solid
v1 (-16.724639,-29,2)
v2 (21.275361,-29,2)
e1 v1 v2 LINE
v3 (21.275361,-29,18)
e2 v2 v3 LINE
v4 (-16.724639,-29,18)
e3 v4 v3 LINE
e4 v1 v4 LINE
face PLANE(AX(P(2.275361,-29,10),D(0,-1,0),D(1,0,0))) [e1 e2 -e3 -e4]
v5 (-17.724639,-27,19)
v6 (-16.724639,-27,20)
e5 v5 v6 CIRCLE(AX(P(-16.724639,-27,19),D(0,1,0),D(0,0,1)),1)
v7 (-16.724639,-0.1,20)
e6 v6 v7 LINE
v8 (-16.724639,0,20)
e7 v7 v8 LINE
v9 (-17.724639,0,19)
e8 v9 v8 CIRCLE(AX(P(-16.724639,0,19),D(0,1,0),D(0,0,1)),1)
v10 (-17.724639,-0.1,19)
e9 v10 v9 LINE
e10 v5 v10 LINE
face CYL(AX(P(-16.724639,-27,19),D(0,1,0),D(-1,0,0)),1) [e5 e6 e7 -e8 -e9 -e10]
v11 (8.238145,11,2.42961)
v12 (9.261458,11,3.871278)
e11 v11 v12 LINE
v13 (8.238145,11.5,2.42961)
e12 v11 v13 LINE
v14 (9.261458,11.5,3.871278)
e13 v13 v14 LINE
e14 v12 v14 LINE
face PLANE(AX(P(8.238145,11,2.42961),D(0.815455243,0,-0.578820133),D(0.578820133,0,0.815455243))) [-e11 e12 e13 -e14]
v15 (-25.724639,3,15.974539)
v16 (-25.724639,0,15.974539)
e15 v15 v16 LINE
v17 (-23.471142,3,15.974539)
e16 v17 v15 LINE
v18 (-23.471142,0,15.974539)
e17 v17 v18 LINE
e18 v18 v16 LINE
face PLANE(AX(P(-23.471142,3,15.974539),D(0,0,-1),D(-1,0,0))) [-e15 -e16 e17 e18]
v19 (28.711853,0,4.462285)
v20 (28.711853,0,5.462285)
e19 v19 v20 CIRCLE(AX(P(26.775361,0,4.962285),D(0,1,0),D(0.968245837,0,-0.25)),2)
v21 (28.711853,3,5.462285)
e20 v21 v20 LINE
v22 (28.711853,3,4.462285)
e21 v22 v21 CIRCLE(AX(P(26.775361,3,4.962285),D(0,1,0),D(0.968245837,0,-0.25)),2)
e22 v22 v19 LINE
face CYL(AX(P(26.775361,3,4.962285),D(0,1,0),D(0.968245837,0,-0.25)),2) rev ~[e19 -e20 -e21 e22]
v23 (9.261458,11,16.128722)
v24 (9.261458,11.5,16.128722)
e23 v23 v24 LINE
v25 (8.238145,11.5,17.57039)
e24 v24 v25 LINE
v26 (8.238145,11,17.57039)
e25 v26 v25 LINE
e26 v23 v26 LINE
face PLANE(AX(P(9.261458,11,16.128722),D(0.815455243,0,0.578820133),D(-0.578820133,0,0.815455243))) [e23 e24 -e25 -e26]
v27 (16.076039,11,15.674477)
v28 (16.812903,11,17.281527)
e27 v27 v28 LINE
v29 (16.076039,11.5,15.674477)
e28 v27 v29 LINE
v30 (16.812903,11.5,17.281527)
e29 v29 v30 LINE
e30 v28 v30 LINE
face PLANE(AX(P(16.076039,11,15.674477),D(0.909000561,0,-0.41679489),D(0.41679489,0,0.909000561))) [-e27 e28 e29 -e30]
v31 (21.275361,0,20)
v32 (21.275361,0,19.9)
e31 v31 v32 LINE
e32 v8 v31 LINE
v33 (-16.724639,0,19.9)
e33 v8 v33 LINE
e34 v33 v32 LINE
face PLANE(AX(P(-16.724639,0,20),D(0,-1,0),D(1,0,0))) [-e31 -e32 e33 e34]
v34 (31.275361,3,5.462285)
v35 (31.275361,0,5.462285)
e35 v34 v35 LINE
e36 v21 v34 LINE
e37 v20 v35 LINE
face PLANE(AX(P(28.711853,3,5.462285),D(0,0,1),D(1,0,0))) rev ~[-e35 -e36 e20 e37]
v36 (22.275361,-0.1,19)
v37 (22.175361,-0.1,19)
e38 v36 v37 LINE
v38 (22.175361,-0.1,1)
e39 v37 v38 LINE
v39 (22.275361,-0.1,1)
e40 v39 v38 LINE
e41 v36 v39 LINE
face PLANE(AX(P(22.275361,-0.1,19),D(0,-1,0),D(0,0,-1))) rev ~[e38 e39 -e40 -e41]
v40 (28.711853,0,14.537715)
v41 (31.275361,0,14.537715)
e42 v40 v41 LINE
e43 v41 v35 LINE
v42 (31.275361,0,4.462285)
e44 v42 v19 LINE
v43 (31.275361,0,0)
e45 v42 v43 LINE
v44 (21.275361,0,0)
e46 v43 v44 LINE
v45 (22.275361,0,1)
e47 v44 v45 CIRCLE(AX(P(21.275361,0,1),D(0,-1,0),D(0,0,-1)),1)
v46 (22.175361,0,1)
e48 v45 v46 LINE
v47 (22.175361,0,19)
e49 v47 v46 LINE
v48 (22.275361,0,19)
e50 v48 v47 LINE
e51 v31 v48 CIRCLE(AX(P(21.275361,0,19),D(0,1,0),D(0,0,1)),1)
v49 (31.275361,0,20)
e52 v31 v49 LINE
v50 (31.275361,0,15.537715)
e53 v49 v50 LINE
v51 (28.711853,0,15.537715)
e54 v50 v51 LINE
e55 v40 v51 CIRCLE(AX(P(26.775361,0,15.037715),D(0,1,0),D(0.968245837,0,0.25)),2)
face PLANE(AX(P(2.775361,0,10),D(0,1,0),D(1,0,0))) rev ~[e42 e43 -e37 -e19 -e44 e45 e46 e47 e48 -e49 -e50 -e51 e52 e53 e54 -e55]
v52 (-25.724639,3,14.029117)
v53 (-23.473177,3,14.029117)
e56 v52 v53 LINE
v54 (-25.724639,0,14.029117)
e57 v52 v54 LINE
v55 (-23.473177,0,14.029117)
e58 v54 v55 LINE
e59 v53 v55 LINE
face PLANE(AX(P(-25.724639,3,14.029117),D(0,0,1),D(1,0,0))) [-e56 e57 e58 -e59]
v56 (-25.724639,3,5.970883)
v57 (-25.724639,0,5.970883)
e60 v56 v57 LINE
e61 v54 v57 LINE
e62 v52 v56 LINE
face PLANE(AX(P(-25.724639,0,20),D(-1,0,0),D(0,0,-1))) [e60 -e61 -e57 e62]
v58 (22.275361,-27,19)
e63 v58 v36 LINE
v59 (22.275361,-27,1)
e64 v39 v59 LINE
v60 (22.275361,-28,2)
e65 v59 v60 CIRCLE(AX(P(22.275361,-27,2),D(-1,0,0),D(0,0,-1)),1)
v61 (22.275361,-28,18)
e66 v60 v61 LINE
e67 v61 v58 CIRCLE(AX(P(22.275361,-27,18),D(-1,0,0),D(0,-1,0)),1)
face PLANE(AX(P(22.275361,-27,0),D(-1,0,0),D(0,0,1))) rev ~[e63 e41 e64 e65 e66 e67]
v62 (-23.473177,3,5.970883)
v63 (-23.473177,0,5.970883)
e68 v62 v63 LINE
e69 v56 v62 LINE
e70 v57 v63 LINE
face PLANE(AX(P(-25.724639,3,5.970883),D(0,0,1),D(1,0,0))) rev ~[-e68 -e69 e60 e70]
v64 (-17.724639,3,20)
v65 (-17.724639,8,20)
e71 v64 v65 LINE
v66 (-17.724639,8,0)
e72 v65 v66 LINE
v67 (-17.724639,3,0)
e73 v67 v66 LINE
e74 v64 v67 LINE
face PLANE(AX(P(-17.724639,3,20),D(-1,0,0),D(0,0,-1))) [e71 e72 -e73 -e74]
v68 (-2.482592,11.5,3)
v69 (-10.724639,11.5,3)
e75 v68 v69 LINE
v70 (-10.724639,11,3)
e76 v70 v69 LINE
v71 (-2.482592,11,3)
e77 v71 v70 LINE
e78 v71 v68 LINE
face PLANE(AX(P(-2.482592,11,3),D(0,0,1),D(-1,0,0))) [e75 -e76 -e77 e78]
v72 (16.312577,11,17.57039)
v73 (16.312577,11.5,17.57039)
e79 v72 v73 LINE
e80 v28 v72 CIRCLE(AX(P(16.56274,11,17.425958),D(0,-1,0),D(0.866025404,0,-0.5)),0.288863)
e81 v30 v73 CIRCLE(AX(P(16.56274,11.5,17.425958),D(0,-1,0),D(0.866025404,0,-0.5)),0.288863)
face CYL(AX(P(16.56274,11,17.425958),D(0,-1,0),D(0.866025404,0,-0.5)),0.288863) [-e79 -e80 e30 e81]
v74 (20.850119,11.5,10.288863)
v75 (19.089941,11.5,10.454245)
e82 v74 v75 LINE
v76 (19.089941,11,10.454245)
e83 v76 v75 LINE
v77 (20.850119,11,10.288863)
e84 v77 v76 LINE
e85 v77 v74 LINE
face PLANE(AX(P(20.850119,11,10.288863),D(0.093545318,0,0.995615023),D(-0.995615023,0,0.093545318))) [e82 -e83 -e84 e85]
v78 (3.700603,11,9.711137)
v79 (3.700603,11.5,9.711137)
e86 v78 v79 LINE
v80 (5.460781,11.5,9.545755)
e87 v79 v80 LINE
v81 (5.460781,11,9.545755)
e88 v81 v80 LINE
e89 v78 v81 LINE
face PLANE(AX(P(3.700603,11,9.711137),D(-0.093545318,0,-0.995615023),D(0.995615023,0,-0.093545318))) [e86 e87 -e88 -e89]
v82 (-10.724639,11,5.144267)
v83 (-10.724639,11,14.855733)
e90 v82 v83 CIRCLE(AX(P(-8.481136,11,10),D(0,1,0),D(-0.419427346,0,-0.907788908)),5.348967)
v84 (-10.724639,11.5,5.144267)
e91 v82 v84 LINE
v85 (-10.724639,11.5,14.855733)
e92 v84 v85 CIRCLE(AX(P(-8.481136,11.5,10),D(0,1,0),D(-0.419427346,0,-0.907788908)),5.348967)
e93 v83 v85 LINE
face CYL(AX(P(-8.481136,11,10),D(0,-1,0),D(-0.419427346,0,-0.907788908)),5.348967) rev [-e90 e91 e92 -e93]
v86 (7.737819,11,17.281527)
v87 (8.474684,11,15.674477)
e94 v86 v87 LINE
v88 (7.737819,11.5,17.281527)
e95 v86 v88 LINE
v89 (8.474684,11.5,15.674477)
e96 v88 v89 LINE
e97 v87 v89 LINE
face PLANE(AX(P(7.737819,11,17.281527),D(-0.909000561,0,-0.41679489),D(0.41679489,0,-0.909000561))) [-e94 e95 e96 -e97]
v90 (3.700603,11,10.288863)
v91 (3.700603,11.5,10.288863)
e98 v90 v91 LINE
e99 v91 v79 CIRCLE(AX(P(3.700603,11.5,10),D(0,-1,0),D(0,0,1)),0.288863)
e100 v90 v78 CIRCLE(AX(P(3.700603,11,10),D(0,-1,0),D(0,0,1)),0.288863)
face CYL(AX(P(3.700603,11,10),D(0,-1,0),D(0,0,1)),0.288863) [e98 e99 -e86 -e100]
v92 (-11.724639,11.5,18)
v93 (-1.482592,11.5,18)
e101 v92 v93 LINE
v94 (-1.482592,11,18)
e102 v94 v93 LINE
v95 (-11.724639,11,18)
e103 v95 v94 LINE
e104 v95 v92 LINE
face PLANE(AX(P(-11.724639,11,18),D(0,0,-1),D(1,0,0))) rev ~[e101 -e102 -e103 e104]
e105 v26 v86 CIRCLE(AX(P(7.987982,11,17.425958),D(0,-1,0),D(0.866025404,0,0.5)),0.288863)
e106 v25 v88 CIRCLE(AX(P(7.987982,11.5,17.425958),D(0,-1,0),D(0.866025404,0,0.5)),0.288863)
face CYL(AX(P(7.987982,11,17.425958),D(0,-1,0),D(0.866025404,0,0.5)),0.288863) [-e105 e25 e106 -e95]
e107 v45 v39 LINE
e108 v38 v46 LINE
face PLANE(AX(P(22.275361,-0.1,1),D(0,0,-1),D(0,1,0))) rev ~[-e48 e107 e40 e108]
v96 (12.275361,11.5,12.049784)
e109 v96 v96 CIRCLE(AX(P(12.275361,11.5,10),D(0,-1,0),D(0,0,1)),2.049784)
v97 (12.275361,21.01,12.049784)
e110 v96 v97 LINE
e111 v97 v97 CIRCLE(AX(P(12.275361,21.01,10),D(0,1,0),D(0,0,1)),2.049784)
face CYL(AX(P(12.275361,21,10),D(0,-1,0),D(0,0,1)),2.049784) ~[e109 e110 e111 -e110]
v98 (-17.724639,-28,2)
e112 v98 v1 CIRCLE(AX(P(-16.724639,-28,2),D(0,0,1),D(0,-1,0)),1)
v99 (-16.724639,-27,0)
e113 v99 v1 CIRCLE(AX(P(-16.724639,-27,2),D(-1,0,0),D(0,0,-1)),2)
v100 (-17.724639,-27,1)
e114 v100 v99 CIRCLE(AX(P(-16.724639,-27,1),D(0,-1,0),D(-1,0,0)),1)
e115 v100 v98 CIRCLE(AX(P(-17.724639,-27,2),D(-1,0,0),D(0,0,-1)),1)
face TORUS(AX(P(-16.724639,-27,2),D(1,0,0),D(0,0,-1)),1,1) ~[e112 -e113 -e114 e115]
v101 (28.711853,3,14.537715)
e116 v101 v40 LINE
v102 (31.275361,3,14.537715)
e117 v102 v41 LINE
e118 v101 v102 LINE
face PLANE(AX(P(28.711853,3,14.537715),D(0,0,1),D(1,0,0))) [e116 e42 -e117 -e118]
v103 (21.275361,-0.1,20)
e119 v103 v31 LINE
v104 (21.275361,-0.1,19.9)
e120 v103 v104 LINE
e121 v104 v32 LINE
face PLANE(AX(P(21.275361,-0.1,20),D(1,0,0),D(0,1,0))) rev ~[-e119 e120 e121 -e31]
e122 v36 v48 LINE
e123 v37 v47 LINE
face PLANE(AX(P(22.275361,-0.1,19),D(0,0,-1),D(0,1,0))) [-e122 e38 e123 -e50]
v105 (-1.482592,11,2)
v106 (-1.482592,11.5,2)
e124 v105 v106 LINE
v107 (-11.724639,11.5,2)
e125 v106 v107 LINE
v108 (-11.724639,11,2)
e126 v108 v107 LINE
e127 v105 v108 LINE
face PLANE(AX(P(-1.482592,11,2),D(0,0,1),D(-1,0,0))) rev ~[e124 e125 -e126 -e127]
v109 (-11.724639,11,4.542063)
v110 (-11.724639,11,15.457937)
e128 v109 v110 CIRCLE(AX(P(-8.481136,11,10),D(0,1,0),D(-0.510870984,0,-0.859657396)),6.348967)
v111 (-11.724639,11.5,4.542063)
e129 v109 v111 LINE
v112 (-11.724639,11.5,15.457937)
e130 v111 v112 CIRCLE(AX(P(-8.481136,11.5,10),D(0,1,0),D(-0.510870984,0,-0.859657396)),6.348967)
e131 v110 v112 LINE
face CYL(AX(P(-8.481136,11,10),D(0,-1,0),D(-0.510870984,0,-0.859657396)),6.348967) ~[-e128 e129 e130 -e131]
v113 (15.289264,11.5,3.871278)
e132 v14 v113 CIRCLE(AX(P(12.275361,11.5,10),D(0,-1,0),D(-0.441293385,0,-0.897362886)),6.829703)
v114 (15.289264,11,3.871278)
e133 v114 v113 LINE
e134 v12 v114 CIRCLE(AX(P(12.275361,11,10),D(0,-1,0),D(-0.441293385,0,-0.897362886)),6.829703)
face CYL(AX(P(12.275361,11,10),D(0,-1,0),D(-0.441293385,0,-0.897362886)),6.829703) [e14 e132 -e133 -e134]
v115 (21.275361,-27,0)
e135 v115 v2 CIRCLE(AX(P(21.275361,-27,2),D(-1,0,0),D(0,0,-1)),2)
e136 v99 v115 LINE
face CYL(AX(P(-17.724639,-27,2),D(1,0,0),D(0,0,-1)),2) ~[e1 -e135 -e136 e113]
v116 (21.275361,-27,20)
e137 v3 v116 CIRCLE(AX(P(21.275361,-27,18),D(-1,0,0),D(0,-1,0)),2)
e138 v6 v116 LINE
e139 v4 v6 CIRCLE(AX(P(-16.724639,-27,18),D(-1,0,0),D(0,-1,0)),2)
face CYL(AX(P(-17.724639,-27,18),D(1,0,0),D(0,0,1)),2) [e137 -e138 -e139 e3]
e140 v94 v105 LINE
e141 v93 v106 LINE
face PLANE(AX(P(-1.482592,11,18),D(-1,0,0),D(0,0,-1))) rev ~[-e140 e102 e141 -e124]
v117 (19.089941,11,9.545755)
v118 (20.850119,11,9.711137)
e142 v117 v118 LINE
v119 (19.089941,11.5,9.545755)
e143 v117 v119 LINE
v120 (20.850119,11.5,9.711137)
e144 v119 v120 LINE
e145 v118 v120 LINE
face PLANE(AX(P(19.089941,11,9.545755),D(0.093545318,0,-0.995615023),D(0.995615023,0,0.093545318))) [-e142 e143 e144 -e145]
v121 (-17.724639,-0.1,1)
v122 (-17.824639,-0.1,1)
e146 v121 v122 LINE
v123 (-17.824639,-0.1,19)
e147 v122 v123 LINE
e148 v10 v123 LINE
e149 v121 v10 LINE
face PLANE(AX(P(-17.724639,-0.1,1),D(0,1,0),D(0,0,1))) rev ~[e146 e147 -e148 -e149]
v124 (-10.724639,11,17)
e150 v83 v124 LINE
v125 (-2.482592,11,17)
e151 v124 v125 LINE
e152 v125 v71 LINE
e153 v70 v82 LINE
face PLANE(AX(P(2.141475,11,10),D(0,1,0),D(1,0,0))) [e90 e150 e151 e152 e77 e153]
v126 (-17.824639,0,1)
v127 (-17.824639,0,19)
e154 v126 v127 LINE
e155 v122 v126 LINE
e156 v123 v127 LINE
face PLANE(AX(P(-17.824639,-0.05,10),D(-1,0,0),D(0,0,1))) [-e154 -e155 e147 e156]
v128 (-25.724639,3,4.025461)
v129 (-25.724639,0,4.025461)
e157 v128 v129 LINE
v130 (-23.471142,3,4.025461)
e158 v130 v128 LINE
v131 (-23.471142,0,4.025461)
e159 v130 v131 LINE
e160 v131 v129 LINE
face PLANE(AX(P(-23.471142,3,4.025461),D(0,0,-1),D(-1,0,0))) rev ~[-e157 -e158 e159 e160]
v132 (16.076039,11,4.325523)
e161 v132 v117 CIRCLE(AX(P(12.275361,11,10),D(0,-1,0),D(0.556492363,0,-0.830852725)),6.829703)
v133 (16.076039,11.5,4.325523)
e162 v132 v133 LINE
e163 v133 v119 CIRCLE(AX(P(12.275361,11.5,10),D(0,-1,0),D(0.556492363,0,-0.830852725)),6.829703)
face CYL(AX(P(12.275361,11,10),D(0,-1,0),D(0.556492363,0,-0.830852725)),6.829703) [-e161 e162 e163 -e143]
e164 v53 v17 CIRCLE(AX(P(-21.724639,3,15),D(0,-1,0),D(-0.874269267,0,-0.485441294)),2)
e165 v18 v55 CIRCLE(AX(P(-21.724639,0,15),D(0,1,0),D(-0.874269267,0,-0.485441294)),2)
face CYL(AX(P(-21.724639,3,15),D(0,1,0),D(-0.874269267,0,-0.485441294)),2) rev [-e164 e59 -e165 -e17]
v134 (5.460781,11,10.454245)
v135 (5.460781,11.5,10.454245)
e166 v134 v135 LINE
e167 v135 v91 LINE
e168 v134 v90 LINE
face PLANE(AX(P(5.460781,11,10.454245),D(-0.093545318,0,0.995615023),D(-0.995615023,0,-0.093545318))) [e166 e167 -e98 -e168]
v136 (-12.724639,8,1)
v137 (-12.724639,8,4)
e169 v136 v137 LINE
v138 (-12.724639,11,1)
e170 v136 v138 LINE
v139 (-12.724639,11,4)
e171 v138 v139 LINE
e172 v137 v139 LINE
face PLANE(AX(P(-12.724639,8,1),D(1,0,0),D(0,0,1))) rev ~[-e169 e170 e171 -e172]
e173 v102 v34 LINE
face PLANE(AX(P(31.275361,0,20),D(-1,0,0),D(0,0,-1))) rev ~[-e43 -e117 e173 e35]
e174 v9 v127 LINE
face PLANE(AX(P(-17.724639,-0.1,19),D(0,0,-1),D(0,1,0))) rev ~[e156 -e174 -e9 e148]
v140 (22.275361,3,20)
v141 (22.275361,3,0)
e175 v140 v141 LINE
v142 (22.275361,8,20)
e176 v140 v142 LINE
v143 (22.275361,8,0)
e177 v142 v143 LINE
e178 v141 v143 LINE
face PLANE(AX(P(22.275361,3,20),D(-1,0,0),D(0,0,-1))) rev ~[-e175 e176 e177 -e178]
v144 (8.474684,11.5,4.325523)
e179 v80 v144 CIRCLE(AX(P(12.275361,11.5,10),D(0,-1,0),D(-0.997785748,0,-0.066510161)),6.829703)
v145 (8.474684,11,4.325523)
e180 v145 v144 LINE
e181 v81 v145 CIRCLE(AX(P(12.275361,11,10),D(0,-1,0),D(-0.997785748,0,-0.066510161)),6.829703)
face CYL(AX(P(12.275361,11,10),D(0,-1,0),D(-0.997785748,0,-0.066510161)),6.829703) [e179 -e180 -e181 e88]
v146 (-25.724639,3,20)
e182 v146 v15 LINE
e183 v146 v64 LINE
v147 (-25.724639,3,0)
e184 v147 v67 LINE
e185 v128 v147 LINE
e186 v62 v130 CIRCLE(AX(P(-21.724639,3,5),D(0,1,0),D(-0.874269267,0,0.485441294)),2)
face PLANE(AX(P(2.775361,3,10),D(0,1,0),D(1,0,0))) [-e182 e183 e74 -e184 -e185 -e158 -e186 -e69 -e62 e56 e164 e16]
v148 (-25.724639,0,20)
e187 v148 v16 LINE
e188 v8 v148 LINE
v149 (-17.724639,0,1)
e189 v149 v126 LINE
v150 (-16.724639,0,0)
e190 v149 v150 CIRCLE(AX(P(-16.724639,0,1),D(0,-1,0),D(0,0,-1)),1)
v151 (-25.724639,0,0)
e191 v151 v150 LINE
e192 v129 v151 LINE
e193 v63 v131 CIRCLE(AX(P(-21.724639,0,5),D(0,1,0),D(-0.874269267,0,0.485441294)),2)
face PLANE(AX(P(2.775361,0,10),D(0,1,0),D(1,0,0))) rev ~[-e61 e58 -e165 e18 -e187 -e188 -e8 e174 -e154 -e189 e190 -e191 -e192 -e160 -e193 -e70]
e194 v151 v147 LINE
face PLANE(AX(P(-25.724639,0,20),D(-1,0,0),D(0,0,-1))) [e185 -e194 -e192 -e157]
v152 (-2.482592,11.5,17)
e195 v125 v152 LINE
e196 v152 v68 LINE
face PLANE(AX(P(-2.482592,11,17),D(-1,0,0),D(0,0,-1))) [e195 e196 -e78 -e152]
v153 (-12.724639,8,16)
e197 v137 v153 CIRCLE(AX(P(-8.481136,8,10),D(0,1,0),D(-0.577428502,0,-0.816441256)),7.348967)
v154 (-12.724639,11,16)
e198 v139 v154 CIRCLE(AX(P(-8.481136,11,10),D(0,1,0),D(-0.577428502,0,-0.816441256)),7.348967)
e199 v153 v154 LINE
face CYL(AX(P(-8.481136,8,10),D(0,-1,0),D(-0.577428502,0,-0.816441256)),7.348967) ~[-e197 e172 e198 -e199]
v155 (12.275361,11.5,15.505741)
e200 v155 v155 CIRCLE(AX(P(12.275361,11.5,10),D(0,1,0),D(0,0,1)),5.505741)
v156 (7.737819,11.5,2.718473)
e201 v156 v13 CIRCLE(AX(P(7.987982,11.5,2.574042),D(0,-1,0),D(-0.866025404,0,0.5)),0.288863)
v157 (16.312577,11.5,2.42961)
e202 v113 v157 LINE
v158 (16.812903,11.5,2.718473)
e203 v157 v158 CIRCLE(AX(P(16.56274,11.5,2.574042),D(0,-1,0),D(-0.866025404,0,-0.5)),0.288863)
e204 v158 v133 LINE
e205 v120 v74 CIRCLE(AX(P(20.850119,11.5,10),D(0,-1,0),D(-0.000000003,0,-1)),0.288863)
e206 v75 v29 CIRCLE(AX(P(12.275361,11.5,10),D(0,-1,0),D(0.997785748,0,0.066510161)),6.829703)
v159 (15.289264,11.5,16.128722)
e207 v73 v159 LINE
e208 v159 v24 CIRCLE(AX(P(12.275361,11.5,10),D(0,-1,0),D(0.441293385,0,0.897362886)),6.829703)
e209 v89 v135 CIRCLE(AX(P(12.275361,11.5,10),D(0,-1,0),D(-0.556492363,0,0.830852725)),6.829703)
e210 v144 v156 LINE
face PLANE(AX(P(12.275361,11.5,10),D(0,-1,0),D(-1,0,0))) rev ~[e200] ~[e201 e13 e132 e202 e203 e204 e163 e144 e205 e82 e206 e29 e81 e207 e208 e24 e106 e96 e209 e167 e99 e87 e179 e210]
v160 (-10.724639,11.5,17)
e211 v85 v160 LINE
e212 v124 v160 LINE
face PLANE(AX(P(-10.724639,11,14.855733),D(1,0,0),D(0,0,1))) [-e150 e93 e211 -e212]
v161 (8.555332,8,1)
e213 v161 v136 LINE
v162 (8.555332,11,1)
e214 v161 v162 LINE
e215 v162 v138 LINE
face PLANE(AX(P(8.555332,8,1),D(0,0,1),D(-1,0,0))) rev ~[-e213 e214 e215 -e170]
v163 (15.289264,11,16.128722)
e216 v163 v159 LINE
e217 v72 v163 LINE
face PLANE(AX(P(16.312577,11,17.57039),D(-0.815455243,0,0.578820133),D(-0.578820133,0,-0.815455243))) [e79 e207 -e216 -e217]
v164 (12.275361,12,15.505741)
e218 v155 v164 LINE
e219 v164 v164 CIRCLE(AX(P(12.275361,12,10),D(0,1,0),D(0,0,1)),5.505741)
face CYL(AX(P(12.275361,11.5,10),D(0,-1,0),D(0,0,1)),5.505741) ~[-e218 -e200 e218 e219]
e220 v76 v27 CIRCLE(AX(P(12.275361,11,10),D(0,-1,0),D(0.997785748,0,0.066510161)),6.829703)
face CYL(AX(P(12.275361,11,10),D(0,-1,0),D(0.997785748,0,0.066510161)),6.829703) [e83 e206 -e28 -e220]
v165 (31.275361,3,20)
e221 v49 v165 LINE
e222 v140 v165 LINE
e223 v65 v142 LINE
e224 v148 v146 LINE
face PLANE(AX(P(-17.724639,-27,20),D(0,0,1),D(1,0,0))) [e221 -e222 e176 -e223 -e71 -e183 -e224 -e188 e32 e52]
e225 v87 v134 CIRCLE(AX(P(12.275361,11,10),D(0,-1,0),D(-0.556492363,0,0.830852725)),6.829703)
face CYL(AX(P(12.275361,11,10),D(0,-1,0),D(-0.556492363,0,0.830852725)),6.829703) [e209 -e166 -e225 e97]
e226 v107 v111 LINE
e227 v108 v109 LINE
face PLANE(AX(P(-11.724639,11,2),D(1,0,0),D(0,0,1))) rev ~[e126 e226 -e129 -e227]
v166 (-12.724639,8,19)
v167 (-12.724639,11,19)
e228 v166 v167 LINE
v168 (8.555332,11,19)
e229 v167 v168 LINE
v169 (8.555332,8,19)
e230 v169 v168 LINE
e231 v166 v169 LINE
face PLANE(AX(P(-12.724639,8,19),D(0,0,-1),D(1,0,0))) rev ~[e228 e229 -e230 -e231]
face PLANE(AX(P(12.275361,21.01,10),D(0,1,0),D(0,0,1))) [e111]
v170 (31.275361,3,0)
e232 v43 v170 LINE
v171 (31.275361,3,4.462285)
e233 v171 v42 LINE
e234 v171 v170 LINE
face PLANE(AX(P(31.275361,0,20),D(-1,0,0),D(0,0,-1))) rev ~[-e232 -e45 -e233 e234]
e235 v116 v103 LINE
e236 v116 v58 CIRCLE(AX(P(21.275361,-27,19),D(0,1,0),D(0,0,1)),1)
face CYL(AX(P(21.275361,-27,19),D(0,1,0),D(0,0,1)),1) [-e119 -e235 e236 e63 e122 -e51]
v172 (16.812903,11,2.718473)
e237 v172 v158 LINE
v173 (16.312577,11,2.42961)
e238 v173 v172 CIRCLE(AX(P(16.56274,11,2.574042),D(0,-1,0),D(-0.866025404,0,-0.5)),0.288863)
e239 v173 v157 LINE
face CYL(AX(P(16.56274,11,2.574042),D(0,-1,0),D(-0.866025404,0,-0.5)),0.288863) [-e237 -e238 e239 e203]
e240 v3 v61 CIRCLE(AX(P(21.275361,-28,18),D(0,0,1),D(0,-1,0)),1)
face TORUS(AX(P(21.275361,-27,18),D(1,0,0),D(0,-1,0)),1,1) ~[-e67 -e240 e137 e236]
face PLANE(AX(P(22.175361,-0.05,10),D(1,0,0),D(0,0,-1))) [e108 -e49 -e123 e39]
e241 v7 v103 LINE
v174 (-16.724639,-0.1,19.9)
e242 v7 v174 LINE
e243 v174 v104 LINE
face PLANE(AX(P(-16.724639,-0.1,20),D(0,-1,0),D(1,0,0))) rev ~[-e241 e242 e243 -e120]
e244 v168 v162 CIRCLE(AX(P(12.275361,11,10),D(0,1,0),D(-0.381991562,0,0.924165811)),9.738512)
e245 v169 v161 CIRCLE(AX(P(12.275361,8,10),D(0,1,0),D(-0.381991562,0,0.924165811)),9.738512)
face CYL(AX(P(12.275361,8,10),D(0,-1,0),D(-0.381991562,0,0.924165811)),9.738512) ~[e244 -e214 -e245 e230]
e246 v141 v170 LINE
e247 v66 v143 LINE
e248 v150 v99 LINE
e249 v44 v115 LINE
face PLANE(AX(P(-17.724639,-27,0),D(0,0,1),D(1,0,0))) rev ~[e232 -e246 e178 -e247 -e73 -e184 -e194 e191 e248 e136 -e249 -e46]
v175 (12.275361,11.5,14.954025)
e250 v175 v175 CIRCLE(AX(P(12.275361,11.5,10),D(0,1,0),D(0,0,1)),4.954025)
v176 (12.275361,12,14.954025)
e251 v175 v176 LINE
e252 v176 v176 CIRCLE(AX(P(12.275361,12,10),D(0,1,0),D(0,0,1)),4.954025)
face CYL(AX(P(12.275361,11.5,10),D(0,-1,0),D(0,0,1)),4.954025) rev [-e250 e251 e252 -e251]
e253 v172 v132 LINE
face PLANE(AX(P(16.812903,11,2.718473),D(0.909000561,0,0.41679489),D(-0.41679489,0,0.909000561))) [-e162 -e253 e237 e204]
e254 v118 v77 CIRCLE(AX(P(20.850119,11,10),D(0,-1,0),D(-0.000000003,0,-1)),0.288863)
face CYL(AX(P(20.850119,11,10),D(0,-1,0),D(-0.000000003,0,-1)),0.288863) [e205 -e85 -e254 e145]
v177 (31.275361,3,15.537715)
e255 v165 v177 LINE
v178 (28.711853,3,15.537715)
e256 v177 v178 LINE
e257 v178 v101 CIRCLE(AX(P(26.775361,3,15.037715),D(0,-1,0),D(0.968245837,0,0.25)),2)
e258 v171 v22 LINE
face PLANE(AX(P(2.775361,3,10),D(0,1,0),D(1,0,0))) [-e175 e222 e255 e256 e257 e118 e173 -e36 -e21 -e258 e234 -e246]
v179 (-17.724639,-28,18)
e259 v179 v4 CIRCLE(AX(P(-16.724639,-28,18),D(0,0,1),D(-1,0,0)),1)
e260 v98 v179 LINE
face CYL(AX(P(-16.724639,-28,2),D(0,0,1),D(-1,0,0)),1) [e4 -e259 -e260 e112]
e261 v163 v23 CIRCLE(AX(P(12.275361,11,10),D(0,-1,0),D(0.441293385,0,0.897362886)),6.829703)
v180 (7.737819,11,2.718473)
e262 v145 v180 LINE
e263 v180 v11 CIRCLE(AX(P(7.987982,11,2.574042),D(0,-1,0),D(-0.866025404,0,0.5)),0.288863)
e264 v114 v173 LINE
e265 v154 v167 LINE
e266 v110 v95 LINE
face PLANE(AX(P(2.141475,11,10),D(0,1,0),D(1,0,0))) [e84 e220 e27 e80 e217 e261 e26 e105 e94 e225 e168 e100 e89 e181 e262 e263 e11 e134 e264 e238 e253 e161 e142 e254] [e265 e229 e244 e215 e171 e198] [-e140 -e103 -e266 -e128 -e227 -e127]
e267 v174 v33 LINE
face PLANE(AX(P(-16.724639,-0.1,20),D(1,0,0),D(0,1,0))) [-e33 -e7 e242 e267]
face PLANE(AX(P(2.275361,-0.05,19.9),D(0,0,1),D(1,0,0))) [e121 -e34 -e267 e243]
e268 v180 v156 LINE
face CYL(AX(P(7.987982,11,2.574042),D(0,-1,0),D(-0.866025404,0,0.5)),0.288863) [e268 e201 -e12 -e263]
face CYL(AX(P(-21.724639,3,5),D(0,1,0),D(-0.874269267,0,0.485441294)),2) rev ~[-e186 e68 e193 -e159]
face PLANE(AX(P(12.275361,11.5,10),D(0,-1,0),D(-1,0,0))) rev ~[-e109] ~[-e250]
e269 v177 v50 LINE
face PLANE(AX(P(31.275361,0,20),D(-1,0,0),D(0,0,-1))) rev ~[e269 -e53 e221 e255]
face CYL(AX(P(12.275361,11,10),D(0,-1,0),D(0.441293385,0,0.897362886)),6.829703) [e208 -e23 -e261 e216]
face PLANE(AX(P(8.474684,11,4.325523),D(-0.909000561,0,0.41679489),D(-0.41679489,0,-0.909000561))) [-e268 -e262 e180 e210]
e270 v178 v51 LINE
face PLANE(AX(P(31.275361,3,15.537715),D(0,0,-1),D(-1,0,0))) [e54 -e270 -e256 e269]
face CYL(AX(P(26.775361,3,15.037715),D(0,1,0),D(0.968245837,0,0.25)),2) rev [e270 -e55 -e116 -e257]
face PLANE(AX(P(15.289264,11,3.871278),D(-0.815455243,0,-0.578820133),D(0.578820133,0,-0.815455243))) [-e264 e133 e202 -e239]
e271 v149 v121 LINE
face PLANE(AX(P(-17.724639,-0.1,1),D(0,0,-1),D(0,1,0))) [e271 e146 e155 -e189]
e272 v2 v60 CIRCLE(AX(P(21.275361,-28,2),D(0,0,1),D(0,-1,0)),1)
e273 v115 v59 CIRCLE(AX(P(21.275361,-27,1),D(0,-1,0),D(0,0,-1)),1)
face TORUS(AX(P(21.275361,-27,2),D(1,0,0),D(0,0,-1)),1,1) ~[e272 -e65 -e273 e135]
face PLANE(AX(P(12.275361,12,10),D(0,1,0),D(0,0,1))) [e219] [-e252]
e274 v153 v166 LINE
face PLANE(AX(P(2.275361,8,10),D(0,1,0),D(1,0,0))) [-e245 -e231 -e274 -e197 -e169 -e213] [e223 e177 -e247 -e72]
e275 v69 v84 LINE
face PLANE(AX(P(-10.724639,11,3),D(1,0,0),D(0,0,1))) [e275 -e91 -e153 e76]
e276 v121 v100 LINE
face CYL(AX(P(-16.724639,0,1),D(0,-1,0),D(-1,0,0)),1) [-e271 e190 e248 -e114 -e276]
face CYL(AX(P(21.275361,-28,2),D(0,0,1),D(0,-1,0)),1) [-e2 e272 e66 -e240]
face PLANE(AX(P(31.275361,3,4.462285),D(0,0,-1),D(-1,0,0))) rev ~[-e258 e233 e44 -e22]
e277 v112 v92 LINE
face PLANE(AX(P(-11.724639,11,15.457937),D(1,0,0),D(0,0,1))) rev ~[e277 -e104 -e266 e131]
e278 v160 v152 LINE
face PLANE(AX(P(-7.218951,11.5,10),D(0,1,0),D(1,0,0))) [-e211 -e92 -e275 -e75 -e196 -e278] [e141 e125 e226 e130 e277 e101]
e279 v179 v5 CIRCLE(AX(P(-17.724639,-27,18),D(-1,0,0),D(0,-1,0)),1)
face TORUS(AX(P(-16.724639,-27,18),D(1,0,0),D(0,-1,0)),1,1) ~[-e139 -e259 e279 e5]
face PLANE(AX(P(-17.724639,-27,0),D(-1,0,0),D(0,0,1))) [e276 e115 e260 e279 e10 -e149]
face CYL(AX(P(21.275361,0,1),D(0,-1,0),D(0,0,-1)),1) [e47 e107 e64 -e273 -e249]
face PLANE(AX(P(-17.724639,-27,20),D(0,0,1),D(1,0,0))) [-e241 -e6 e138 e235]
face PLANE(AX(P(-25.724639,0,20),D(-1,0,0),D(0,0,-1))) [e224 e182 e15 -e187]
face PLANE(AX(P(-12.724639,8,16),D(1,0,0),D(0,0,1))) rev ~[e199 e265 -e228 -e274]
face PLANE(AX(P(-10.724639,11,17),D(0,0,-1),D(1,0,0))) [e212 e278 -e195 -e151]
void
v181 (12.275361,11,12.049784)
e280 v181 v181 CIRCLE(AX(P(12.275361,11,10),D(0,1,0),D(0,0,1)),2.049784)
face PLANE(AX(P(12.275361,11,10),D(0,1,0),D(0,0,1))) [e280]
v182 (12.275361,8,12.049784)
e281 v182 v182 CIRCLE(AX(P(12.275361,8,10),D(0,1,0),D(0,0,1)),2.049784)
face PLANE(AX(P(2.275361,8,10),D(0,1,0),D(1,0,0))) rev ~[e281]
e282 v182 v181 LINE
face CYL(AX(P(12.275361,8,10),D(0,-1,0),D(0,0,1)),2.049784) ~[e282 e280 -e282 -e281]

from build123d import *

# Parameters (mm, degrees)
SKETCH1_W            = 57
SKETCH1_H            = 20
BOSS_EXTRUDE2_DEPTH  = 3
SKETCH3_W            = 40
SKETCH3_H            = 20
BOSS_EXTRUDE3_DEPTH  = 27
SKETCH4_W            = 40
SKETCH4_H            = 20
BOSS_EXTRUDE4_DEPTH  = 5
SKETCH7_R            = 2.049783944
BOSS_EXTRUDE5_DEPTH  = 3
SKETCH8_W            = 40
SKETCH8_H            = 20
BOSS_EXTRUDE6_DEPTH  = 2
FILLET1_R            = 2
FILLET3_R            = 1
CUT_EXTRUDE1_DEPTH   = 12
CUT_EXTRUDE2_DEPTH   = 12
SKETCH12_R           = 2.049783944
BOSS_EXTRUDE7_DEPTH  = 10
SKETCH13_W           = 38
SKETCH13_H           = 0.1
CUT_EXTRUDE3_DEPTH   = 0.1
SKETCH14_W           = 18
SKETCH14_H           = 0.1
CUT_EXTRUDE4_DEPTH   = 0.1
SKETCH16_W           = 18
SKETCH16_H           = 0.1
BOSS_EXTRUDE10_DEPTH = 0.1
BOSS_EXTRUDE13_DEPTH = 0.5
SKETCH18_R           = 5.505741297
SKETCH18_R_2         = 4.954025226
BOSS_EXTRUDE14_DEPTH = 0.5
BOSS_EXTRUDE15_DEPTH = 0.5
SKETCH22_R           = 2.049783944
BOSS_EXTRUDE17_DEPTH = 0.01


with BuildPart() as part:
    # Sketch1 → Boss-Extrude2 (new body)
    with BuildSketch(Plane(origin=(0, 0, 0), x_dir=(1, 0, 0), z_dir=(0, 1, 0))):
        with Locations((2.775361092, -10)):
            Rectangle(SKETCH1_W, SKETCH1_H)
    extrude(amount=BOSS_EXTRUDE2_DEPTH)

    # Sketch3 → Boss-Extrude3 (add)
    with BuildSketch(Plane.XZ):
        with Locations((2.275361092, 10)):
            Rectangle(SKETCH3_W, SKETCH3_H)
    extrude(amount=BOSS_EXTRUDE3_DEPTH)

    # Sketch4 → Boss-Extrude4 (add)
    with BuildSketch(Plane(origin=(0, 3, 0), x_dir=(1, 0, 0), z_dir=(0, 1, 0))):
        with Locations((2.275361092, -10)):
            Rectangle(SKETCH4_W, SKETCH4_H)
    extrude(amount=BOSS_EXTRUDE4_DEPTH)

    # Sketch7 → Boss-Extrude5 (add)
    with BuildSketch(Plane(origin=(0, 8, 0), x_dir=(1, 0, 0), z_dir=(0, 1, 0))):
        with BuildLine():
            Line((8.555331619, -1), (-12.724638908, -1))
            Line((-12.724638908, -1), (-12.724638908, -4))
            ThreePointArc((-12.724638908, -4), (-15.83010298, -10), (-12.724638908, -16))
            Line((-12.724638908, -16), (-12.724638908, -19))
            Line((-12.724638908, -19), (8.555331619, -19))
            ThreePointArc((8.555331619, -19), (22.013873261, -10), (8.555331619, -1))
        make_face()
        with Locations(Location((12.275361092, -10, 0), (0, 0, 270))):
            Circle(SKETCH7_R, mode=Mode.SUBTRACT)
    extrude(amount=BOSS_EXTRUDE5_DEPTH)

    # Sketch8 → Boss-Extrude6 (add)
    with BuildSketch(Plane.XZ.offset(27)):
        with Locations((2.275361092, 10)):
            Rectangle(SKETCH8_W, SKETCH8_H)
    extrude(amount=BOSS_EXTRUDE6_DEPTH)

    # Fillet1
    fillet1_edges = [part.edges().sort_by_distance(p)[0] for p in [
        (2.275361092, -29, 20),
        (2.275361092, -29, 0),
    ]]
    fillet(fillet1_edges, radius=FILLET1_R)

    # Fillet3
    fillet3_edges = [part.edges().sort_by_distance(p)[0] for p in [
        (22.275361092, -29, 10),
        (-17.724638908, -29, 10),
        (-17.724638908, -13.5, 0),
        (-17.724638908, -13.5, 20),
        (-17.724638908, -28.414213562, 0.585786438),
        (-17.724638908, -28.414213562, 19.414213562),
        (22.275361092, -13.5, 20),
        (22.275361092, -13.5, 0),
        (22.275361092, -28.414213562, 0.585786438),
        (22.275361092, -28.414213562, 19.414213562),
    ]]
    fillet(fillet3_edges, radius=FILLET3_R)

    # Sketch9 → Cut-Extrude1 (cut)
    with BuildSketch(Plane(origin=(0, 3, 0), x_dir=(1, 0, 0), z_dir=(0, 1, 0))):
        with BuildLine():
            Line((-25.724638908, -15.974539408), (-25.724638908, -14.029117413))
            Line((-25.724638908, -14.029117413), (-23.473177442, -14.029117413))
            ThreePointArc((-23.473177442, -14.029117413), (-19.724640003, -14.997907425), (-23.47114197, -15.974539408))
            Line((-23.47114197, -15.974539408), (-25.724638908, -15.974539408))
        make_face()
        with BuildLine():
            Line((-23.47114197, -4.025460592), (-25.724638908, -4.025460592))
            Line((-25.724638908, -4.025460592), (-25.724638908, -5.970882587))
            Line((-25.724638908, -5.970882587), (-23.473177442, -5.970882587))
            ThreePointArc((-23.473177442, -5.970882587), (-19.724640003, -5.002092575), (-23.47114197, -4.025460592))
        make_face()
    extrude(amount=-CUT_EXTRUDE1_DEPTH, mode=Mode.SUBTRACT)

    # Sketch11 → Cut-Extrude2 (cut)
    with BuildSketch(Plane(origin=(0, 3, 0), x_dir=(1, 0, 0), z_dir=(0, 1, 0))):
        with BuildLine():
            Line((31.275361092, -5.46228452), (31.275361092, -4.46228452))
            Line((31.275361092, -4.46228452), (28.711852765, -4.46228452))
            ThreePointArc((28.711852765, -4.46228452), (24.775361092, -4.96228452), (28.711852765, -5.46228452))
            Line((28.711852765, -5.46228452), (31.275361092, -5.46228452))
        make_face()
        with BuildLine():
            Line((28.711852765, -14.53771548), (31.275361092, -14.53771548))
            Line((31.275361092, -14.53771548), (31.275361092, -15.53771548))
            Line((31.275361092, -15.53771548), (28.711852765, -15.53771548))
            ThreePointArc((28.711852765, -15.53771548), (24.775361092, -15.03771548), (28.711852765, -14.53771548))
        make_face()
    extrude(amount=-CUT_EXTRUDE2_DEPTH, mode=Mode.SUBTRACT)

    # Sketch13 → Cut-Extrude3 (cut)
    with BuildSketch(Plane.XY.offset(20)):
        with Locations((2.275361092, -0.05)):
            Rectangle(SKETCH13_W, SKETCH13_H)
    extrude(amount=-CUT_EXTRUDE3_DEPTH, mode=Mode.SUBTRACT)

    # Sketch14 → Cut-Extrude4 (cut)
    with BuildSketch(Plane(origin=(22.275361092, 0, 0), x_dir=(0, 0, -1), z_dir=(1, 0, 0))):
        with Locations((-10, -0.05)):
            Rectangle(SKETCH14_W, SKETCH14_H)
    extrude(amount=-CUT_EXTRUDE4_DEPTH, mode=Mode.SUBTRACT)

    # Sketch16 → Boss-Extrude10 (add)
    with BuildSketch(Plane.ZY.offset(17.724638908)):
        with Locations((10, -0.05)):
            Rectangle(SKETCH16_W, SKETCH16_H)
    extrude(amount=BOSS_EXTRUDE10_DEPTH)



with BuildPart() as body_2:
    # Sketch12 → Boss-Extrude7 (new body)
    with BuildSketch(Plane(origin=(0, 11, 0), x_dir=(1, 0, 0), z_dir=(0, 1, 0))):
        with Locations(Location((12.275361092, -10, 0), (0, 0, 270))):
            Circle(SKETCH12_R)
    extrude(amount=BOSS_EXTRUDE7_DEPTH)


with BuildPart() as part_1:
    add(part.part)

    add(body_2.part)  # Boss-Extrude13 merges body 2
    # Sketch17 → Boss-Extrude13 (add)
    with BuildSketch(Plane(origin=(0, 11, 0), x_dir=(1, 0, 0), z_dir=(0, 1, 0))):
        with BuildLine():
            Line((20.850118946, -10.288863052), (19.089941192, -10.454244634))
            ThreePointArc((19.089941192, -10.454244634), (18.190057204, -13.414851392), (16.076038534, -15.674477166))
            Line((16.076038534, -15.674477166), (16.81290276, -17.281526608))
            ThreePointArc((16.81290276, -17.281526608), (16.707171545, -17.676120875), (16.312577278, -17.57038966))
            Line((16.312577278, -17.57038966), (15.289263749, -16.1287218))
            ThreePointArc((15.289263749, -16.1287218), (12.275361092, -16.829702785), (9.261458434, -16.1287218))
            Line((9.261458434, -16.1287218), (8.238144905, -17.57038966))
            ThreePointArc((8.238144905, -17.57038966), (7.843550638, -17.676120875), (7.737819423, -17.281526608))
            Line((7.737819423, -17.281526608), (8.474683649, -15.674477166))
            ThreePointArc((8.474683649, -15.674477166), (6.360664979, -13.414851392), (5.460780991, -10.454244634))
            Line((5.460780991, -10.454244634), (3.700603237, -10.288863052))
            ThreePointArc((3.700603237, -10.288863052), (3.411740185, -10), (3.700603237, -9.711136948))
            Line((3.700603237, -9.711136948), (5.460780991, -9.545755366))
            ThreePointArc((5.460780991, -9.545755366), (6.360664979, -6.585148608), (8.474683649, -4.325522834))
            Line((8.474683649, -4.325522834), (7.737819423, -2.718473392))
            ThreePointArc((7.737819423, -2.718473392), (7.843550638, -2.323879125), (8.238144905, -2.42961034))
            Line((8.238144905, -2.42961034), (9.261458434, -3.8712782))
            ThreePointArc((9.261458434, -3.8712782), (12.275361092, -3.170297215), (15.289263749, -3.8712782))
            Line((15.289263749, -3.8712782), (16.312577278, -2.42961034))
            ThreePointArc((16.312577278, -2.42961034), (16.707171545, -2.323879125), (16.81290276, -2.718473392))
            Line((16.81290276, -2.718473392), (16.076038534, -4.325522834))
            ThreePointArc((16.076038534, -4.325522834), (18.190057204, -6.585148608), (19.089941192, -9.545755366))
            Line((19.089941192, -9.545755366), (20.850118946, -9.711136948))
            ThreePointArc((20.850118946, -9.711136948), (21.138981999, -10), (20.850118946, -10.288863052))
        make_face()
    extrude(amount=BOSS_EXTRUDE13_DEPTH)

    # Sketch18 → Boss-Extrude14 (add)
    with BuildSketch(Plane(origin=(0, 11.5, 0), x_dir=(1, 0, 0), z_dir=(0, 1, 0))):
        with Locations(Location((12.275361092, -10, 0), (0, 0, 270))):
            Circle(SKETCH18_R)
        with Locations(Location((12.275361092, -10, 0), (0, 0, 270))):
            Circle(SKETCH18_R_2, mode=Mode.SUBTRACT)
    extrude(amount=BOSS_EXTRUDE14_DEPTH)

    # Sketch20 → Boss-Extrude15 (add)
    with BuildSketch(Plane(origin=(0, 11, 0), x_dir=(1, 0, 0), z_dir=(0, 1, 0))):
        with BuildLine():
            Line((-1.482591904, -18), (-1.482591904, -2))
            Line((-1.482591904, -2), (-11.724638908, -2))
            Line((-11.724638908, -2), (-11.724638908, -4.542063407))
            ThreePointArc((-11.724638908, -4.542063407), (-14.83010298, -10), (-11.724638908, -15.457936593))
            Line((-11.724638908, -15.457936593), (-11.724638908, -18))
            Line((-11.724638908, -18), (-1.482591904, -18))
        make_face()
        with BuildLine():
            Line((-2.482591904, -3), (-10.724638908, -3))
            Line((-10.724638908, -3), (-10.724638908, -5.144266923))
            ThreePointArc((-10.724638908, -5.144266923), (-13.83010298, -10), (-10.724638908, -14.855733077))
            Line((-10.724638908, -14.855733077), (-10.724638908, -17))
            Line((-10.724638908, -17), (-2.482591904, -17))
            Line((-2.482591904, -17), (-2.482591904, -3))
        make_face(mode=Mode.SUBTRACT)
    extrude(amount=BOSS_EXTRUDE15_DEPTH)

    # Sketch22 → Boss-Extrude17 (add)
    with BuildSketch(Plane(origin=(0, 21, 0), x_dir=(1, 0, 0), z_dir=(0, 1, 0))):
        with Locations(Location((12.275361092, -10, 0), (0, 0, 270))):
            Circle(SKETCH22_R)
    extrude(amount=BOSS_EXTRUDE17_DEPTH)


solid = part_1.part
